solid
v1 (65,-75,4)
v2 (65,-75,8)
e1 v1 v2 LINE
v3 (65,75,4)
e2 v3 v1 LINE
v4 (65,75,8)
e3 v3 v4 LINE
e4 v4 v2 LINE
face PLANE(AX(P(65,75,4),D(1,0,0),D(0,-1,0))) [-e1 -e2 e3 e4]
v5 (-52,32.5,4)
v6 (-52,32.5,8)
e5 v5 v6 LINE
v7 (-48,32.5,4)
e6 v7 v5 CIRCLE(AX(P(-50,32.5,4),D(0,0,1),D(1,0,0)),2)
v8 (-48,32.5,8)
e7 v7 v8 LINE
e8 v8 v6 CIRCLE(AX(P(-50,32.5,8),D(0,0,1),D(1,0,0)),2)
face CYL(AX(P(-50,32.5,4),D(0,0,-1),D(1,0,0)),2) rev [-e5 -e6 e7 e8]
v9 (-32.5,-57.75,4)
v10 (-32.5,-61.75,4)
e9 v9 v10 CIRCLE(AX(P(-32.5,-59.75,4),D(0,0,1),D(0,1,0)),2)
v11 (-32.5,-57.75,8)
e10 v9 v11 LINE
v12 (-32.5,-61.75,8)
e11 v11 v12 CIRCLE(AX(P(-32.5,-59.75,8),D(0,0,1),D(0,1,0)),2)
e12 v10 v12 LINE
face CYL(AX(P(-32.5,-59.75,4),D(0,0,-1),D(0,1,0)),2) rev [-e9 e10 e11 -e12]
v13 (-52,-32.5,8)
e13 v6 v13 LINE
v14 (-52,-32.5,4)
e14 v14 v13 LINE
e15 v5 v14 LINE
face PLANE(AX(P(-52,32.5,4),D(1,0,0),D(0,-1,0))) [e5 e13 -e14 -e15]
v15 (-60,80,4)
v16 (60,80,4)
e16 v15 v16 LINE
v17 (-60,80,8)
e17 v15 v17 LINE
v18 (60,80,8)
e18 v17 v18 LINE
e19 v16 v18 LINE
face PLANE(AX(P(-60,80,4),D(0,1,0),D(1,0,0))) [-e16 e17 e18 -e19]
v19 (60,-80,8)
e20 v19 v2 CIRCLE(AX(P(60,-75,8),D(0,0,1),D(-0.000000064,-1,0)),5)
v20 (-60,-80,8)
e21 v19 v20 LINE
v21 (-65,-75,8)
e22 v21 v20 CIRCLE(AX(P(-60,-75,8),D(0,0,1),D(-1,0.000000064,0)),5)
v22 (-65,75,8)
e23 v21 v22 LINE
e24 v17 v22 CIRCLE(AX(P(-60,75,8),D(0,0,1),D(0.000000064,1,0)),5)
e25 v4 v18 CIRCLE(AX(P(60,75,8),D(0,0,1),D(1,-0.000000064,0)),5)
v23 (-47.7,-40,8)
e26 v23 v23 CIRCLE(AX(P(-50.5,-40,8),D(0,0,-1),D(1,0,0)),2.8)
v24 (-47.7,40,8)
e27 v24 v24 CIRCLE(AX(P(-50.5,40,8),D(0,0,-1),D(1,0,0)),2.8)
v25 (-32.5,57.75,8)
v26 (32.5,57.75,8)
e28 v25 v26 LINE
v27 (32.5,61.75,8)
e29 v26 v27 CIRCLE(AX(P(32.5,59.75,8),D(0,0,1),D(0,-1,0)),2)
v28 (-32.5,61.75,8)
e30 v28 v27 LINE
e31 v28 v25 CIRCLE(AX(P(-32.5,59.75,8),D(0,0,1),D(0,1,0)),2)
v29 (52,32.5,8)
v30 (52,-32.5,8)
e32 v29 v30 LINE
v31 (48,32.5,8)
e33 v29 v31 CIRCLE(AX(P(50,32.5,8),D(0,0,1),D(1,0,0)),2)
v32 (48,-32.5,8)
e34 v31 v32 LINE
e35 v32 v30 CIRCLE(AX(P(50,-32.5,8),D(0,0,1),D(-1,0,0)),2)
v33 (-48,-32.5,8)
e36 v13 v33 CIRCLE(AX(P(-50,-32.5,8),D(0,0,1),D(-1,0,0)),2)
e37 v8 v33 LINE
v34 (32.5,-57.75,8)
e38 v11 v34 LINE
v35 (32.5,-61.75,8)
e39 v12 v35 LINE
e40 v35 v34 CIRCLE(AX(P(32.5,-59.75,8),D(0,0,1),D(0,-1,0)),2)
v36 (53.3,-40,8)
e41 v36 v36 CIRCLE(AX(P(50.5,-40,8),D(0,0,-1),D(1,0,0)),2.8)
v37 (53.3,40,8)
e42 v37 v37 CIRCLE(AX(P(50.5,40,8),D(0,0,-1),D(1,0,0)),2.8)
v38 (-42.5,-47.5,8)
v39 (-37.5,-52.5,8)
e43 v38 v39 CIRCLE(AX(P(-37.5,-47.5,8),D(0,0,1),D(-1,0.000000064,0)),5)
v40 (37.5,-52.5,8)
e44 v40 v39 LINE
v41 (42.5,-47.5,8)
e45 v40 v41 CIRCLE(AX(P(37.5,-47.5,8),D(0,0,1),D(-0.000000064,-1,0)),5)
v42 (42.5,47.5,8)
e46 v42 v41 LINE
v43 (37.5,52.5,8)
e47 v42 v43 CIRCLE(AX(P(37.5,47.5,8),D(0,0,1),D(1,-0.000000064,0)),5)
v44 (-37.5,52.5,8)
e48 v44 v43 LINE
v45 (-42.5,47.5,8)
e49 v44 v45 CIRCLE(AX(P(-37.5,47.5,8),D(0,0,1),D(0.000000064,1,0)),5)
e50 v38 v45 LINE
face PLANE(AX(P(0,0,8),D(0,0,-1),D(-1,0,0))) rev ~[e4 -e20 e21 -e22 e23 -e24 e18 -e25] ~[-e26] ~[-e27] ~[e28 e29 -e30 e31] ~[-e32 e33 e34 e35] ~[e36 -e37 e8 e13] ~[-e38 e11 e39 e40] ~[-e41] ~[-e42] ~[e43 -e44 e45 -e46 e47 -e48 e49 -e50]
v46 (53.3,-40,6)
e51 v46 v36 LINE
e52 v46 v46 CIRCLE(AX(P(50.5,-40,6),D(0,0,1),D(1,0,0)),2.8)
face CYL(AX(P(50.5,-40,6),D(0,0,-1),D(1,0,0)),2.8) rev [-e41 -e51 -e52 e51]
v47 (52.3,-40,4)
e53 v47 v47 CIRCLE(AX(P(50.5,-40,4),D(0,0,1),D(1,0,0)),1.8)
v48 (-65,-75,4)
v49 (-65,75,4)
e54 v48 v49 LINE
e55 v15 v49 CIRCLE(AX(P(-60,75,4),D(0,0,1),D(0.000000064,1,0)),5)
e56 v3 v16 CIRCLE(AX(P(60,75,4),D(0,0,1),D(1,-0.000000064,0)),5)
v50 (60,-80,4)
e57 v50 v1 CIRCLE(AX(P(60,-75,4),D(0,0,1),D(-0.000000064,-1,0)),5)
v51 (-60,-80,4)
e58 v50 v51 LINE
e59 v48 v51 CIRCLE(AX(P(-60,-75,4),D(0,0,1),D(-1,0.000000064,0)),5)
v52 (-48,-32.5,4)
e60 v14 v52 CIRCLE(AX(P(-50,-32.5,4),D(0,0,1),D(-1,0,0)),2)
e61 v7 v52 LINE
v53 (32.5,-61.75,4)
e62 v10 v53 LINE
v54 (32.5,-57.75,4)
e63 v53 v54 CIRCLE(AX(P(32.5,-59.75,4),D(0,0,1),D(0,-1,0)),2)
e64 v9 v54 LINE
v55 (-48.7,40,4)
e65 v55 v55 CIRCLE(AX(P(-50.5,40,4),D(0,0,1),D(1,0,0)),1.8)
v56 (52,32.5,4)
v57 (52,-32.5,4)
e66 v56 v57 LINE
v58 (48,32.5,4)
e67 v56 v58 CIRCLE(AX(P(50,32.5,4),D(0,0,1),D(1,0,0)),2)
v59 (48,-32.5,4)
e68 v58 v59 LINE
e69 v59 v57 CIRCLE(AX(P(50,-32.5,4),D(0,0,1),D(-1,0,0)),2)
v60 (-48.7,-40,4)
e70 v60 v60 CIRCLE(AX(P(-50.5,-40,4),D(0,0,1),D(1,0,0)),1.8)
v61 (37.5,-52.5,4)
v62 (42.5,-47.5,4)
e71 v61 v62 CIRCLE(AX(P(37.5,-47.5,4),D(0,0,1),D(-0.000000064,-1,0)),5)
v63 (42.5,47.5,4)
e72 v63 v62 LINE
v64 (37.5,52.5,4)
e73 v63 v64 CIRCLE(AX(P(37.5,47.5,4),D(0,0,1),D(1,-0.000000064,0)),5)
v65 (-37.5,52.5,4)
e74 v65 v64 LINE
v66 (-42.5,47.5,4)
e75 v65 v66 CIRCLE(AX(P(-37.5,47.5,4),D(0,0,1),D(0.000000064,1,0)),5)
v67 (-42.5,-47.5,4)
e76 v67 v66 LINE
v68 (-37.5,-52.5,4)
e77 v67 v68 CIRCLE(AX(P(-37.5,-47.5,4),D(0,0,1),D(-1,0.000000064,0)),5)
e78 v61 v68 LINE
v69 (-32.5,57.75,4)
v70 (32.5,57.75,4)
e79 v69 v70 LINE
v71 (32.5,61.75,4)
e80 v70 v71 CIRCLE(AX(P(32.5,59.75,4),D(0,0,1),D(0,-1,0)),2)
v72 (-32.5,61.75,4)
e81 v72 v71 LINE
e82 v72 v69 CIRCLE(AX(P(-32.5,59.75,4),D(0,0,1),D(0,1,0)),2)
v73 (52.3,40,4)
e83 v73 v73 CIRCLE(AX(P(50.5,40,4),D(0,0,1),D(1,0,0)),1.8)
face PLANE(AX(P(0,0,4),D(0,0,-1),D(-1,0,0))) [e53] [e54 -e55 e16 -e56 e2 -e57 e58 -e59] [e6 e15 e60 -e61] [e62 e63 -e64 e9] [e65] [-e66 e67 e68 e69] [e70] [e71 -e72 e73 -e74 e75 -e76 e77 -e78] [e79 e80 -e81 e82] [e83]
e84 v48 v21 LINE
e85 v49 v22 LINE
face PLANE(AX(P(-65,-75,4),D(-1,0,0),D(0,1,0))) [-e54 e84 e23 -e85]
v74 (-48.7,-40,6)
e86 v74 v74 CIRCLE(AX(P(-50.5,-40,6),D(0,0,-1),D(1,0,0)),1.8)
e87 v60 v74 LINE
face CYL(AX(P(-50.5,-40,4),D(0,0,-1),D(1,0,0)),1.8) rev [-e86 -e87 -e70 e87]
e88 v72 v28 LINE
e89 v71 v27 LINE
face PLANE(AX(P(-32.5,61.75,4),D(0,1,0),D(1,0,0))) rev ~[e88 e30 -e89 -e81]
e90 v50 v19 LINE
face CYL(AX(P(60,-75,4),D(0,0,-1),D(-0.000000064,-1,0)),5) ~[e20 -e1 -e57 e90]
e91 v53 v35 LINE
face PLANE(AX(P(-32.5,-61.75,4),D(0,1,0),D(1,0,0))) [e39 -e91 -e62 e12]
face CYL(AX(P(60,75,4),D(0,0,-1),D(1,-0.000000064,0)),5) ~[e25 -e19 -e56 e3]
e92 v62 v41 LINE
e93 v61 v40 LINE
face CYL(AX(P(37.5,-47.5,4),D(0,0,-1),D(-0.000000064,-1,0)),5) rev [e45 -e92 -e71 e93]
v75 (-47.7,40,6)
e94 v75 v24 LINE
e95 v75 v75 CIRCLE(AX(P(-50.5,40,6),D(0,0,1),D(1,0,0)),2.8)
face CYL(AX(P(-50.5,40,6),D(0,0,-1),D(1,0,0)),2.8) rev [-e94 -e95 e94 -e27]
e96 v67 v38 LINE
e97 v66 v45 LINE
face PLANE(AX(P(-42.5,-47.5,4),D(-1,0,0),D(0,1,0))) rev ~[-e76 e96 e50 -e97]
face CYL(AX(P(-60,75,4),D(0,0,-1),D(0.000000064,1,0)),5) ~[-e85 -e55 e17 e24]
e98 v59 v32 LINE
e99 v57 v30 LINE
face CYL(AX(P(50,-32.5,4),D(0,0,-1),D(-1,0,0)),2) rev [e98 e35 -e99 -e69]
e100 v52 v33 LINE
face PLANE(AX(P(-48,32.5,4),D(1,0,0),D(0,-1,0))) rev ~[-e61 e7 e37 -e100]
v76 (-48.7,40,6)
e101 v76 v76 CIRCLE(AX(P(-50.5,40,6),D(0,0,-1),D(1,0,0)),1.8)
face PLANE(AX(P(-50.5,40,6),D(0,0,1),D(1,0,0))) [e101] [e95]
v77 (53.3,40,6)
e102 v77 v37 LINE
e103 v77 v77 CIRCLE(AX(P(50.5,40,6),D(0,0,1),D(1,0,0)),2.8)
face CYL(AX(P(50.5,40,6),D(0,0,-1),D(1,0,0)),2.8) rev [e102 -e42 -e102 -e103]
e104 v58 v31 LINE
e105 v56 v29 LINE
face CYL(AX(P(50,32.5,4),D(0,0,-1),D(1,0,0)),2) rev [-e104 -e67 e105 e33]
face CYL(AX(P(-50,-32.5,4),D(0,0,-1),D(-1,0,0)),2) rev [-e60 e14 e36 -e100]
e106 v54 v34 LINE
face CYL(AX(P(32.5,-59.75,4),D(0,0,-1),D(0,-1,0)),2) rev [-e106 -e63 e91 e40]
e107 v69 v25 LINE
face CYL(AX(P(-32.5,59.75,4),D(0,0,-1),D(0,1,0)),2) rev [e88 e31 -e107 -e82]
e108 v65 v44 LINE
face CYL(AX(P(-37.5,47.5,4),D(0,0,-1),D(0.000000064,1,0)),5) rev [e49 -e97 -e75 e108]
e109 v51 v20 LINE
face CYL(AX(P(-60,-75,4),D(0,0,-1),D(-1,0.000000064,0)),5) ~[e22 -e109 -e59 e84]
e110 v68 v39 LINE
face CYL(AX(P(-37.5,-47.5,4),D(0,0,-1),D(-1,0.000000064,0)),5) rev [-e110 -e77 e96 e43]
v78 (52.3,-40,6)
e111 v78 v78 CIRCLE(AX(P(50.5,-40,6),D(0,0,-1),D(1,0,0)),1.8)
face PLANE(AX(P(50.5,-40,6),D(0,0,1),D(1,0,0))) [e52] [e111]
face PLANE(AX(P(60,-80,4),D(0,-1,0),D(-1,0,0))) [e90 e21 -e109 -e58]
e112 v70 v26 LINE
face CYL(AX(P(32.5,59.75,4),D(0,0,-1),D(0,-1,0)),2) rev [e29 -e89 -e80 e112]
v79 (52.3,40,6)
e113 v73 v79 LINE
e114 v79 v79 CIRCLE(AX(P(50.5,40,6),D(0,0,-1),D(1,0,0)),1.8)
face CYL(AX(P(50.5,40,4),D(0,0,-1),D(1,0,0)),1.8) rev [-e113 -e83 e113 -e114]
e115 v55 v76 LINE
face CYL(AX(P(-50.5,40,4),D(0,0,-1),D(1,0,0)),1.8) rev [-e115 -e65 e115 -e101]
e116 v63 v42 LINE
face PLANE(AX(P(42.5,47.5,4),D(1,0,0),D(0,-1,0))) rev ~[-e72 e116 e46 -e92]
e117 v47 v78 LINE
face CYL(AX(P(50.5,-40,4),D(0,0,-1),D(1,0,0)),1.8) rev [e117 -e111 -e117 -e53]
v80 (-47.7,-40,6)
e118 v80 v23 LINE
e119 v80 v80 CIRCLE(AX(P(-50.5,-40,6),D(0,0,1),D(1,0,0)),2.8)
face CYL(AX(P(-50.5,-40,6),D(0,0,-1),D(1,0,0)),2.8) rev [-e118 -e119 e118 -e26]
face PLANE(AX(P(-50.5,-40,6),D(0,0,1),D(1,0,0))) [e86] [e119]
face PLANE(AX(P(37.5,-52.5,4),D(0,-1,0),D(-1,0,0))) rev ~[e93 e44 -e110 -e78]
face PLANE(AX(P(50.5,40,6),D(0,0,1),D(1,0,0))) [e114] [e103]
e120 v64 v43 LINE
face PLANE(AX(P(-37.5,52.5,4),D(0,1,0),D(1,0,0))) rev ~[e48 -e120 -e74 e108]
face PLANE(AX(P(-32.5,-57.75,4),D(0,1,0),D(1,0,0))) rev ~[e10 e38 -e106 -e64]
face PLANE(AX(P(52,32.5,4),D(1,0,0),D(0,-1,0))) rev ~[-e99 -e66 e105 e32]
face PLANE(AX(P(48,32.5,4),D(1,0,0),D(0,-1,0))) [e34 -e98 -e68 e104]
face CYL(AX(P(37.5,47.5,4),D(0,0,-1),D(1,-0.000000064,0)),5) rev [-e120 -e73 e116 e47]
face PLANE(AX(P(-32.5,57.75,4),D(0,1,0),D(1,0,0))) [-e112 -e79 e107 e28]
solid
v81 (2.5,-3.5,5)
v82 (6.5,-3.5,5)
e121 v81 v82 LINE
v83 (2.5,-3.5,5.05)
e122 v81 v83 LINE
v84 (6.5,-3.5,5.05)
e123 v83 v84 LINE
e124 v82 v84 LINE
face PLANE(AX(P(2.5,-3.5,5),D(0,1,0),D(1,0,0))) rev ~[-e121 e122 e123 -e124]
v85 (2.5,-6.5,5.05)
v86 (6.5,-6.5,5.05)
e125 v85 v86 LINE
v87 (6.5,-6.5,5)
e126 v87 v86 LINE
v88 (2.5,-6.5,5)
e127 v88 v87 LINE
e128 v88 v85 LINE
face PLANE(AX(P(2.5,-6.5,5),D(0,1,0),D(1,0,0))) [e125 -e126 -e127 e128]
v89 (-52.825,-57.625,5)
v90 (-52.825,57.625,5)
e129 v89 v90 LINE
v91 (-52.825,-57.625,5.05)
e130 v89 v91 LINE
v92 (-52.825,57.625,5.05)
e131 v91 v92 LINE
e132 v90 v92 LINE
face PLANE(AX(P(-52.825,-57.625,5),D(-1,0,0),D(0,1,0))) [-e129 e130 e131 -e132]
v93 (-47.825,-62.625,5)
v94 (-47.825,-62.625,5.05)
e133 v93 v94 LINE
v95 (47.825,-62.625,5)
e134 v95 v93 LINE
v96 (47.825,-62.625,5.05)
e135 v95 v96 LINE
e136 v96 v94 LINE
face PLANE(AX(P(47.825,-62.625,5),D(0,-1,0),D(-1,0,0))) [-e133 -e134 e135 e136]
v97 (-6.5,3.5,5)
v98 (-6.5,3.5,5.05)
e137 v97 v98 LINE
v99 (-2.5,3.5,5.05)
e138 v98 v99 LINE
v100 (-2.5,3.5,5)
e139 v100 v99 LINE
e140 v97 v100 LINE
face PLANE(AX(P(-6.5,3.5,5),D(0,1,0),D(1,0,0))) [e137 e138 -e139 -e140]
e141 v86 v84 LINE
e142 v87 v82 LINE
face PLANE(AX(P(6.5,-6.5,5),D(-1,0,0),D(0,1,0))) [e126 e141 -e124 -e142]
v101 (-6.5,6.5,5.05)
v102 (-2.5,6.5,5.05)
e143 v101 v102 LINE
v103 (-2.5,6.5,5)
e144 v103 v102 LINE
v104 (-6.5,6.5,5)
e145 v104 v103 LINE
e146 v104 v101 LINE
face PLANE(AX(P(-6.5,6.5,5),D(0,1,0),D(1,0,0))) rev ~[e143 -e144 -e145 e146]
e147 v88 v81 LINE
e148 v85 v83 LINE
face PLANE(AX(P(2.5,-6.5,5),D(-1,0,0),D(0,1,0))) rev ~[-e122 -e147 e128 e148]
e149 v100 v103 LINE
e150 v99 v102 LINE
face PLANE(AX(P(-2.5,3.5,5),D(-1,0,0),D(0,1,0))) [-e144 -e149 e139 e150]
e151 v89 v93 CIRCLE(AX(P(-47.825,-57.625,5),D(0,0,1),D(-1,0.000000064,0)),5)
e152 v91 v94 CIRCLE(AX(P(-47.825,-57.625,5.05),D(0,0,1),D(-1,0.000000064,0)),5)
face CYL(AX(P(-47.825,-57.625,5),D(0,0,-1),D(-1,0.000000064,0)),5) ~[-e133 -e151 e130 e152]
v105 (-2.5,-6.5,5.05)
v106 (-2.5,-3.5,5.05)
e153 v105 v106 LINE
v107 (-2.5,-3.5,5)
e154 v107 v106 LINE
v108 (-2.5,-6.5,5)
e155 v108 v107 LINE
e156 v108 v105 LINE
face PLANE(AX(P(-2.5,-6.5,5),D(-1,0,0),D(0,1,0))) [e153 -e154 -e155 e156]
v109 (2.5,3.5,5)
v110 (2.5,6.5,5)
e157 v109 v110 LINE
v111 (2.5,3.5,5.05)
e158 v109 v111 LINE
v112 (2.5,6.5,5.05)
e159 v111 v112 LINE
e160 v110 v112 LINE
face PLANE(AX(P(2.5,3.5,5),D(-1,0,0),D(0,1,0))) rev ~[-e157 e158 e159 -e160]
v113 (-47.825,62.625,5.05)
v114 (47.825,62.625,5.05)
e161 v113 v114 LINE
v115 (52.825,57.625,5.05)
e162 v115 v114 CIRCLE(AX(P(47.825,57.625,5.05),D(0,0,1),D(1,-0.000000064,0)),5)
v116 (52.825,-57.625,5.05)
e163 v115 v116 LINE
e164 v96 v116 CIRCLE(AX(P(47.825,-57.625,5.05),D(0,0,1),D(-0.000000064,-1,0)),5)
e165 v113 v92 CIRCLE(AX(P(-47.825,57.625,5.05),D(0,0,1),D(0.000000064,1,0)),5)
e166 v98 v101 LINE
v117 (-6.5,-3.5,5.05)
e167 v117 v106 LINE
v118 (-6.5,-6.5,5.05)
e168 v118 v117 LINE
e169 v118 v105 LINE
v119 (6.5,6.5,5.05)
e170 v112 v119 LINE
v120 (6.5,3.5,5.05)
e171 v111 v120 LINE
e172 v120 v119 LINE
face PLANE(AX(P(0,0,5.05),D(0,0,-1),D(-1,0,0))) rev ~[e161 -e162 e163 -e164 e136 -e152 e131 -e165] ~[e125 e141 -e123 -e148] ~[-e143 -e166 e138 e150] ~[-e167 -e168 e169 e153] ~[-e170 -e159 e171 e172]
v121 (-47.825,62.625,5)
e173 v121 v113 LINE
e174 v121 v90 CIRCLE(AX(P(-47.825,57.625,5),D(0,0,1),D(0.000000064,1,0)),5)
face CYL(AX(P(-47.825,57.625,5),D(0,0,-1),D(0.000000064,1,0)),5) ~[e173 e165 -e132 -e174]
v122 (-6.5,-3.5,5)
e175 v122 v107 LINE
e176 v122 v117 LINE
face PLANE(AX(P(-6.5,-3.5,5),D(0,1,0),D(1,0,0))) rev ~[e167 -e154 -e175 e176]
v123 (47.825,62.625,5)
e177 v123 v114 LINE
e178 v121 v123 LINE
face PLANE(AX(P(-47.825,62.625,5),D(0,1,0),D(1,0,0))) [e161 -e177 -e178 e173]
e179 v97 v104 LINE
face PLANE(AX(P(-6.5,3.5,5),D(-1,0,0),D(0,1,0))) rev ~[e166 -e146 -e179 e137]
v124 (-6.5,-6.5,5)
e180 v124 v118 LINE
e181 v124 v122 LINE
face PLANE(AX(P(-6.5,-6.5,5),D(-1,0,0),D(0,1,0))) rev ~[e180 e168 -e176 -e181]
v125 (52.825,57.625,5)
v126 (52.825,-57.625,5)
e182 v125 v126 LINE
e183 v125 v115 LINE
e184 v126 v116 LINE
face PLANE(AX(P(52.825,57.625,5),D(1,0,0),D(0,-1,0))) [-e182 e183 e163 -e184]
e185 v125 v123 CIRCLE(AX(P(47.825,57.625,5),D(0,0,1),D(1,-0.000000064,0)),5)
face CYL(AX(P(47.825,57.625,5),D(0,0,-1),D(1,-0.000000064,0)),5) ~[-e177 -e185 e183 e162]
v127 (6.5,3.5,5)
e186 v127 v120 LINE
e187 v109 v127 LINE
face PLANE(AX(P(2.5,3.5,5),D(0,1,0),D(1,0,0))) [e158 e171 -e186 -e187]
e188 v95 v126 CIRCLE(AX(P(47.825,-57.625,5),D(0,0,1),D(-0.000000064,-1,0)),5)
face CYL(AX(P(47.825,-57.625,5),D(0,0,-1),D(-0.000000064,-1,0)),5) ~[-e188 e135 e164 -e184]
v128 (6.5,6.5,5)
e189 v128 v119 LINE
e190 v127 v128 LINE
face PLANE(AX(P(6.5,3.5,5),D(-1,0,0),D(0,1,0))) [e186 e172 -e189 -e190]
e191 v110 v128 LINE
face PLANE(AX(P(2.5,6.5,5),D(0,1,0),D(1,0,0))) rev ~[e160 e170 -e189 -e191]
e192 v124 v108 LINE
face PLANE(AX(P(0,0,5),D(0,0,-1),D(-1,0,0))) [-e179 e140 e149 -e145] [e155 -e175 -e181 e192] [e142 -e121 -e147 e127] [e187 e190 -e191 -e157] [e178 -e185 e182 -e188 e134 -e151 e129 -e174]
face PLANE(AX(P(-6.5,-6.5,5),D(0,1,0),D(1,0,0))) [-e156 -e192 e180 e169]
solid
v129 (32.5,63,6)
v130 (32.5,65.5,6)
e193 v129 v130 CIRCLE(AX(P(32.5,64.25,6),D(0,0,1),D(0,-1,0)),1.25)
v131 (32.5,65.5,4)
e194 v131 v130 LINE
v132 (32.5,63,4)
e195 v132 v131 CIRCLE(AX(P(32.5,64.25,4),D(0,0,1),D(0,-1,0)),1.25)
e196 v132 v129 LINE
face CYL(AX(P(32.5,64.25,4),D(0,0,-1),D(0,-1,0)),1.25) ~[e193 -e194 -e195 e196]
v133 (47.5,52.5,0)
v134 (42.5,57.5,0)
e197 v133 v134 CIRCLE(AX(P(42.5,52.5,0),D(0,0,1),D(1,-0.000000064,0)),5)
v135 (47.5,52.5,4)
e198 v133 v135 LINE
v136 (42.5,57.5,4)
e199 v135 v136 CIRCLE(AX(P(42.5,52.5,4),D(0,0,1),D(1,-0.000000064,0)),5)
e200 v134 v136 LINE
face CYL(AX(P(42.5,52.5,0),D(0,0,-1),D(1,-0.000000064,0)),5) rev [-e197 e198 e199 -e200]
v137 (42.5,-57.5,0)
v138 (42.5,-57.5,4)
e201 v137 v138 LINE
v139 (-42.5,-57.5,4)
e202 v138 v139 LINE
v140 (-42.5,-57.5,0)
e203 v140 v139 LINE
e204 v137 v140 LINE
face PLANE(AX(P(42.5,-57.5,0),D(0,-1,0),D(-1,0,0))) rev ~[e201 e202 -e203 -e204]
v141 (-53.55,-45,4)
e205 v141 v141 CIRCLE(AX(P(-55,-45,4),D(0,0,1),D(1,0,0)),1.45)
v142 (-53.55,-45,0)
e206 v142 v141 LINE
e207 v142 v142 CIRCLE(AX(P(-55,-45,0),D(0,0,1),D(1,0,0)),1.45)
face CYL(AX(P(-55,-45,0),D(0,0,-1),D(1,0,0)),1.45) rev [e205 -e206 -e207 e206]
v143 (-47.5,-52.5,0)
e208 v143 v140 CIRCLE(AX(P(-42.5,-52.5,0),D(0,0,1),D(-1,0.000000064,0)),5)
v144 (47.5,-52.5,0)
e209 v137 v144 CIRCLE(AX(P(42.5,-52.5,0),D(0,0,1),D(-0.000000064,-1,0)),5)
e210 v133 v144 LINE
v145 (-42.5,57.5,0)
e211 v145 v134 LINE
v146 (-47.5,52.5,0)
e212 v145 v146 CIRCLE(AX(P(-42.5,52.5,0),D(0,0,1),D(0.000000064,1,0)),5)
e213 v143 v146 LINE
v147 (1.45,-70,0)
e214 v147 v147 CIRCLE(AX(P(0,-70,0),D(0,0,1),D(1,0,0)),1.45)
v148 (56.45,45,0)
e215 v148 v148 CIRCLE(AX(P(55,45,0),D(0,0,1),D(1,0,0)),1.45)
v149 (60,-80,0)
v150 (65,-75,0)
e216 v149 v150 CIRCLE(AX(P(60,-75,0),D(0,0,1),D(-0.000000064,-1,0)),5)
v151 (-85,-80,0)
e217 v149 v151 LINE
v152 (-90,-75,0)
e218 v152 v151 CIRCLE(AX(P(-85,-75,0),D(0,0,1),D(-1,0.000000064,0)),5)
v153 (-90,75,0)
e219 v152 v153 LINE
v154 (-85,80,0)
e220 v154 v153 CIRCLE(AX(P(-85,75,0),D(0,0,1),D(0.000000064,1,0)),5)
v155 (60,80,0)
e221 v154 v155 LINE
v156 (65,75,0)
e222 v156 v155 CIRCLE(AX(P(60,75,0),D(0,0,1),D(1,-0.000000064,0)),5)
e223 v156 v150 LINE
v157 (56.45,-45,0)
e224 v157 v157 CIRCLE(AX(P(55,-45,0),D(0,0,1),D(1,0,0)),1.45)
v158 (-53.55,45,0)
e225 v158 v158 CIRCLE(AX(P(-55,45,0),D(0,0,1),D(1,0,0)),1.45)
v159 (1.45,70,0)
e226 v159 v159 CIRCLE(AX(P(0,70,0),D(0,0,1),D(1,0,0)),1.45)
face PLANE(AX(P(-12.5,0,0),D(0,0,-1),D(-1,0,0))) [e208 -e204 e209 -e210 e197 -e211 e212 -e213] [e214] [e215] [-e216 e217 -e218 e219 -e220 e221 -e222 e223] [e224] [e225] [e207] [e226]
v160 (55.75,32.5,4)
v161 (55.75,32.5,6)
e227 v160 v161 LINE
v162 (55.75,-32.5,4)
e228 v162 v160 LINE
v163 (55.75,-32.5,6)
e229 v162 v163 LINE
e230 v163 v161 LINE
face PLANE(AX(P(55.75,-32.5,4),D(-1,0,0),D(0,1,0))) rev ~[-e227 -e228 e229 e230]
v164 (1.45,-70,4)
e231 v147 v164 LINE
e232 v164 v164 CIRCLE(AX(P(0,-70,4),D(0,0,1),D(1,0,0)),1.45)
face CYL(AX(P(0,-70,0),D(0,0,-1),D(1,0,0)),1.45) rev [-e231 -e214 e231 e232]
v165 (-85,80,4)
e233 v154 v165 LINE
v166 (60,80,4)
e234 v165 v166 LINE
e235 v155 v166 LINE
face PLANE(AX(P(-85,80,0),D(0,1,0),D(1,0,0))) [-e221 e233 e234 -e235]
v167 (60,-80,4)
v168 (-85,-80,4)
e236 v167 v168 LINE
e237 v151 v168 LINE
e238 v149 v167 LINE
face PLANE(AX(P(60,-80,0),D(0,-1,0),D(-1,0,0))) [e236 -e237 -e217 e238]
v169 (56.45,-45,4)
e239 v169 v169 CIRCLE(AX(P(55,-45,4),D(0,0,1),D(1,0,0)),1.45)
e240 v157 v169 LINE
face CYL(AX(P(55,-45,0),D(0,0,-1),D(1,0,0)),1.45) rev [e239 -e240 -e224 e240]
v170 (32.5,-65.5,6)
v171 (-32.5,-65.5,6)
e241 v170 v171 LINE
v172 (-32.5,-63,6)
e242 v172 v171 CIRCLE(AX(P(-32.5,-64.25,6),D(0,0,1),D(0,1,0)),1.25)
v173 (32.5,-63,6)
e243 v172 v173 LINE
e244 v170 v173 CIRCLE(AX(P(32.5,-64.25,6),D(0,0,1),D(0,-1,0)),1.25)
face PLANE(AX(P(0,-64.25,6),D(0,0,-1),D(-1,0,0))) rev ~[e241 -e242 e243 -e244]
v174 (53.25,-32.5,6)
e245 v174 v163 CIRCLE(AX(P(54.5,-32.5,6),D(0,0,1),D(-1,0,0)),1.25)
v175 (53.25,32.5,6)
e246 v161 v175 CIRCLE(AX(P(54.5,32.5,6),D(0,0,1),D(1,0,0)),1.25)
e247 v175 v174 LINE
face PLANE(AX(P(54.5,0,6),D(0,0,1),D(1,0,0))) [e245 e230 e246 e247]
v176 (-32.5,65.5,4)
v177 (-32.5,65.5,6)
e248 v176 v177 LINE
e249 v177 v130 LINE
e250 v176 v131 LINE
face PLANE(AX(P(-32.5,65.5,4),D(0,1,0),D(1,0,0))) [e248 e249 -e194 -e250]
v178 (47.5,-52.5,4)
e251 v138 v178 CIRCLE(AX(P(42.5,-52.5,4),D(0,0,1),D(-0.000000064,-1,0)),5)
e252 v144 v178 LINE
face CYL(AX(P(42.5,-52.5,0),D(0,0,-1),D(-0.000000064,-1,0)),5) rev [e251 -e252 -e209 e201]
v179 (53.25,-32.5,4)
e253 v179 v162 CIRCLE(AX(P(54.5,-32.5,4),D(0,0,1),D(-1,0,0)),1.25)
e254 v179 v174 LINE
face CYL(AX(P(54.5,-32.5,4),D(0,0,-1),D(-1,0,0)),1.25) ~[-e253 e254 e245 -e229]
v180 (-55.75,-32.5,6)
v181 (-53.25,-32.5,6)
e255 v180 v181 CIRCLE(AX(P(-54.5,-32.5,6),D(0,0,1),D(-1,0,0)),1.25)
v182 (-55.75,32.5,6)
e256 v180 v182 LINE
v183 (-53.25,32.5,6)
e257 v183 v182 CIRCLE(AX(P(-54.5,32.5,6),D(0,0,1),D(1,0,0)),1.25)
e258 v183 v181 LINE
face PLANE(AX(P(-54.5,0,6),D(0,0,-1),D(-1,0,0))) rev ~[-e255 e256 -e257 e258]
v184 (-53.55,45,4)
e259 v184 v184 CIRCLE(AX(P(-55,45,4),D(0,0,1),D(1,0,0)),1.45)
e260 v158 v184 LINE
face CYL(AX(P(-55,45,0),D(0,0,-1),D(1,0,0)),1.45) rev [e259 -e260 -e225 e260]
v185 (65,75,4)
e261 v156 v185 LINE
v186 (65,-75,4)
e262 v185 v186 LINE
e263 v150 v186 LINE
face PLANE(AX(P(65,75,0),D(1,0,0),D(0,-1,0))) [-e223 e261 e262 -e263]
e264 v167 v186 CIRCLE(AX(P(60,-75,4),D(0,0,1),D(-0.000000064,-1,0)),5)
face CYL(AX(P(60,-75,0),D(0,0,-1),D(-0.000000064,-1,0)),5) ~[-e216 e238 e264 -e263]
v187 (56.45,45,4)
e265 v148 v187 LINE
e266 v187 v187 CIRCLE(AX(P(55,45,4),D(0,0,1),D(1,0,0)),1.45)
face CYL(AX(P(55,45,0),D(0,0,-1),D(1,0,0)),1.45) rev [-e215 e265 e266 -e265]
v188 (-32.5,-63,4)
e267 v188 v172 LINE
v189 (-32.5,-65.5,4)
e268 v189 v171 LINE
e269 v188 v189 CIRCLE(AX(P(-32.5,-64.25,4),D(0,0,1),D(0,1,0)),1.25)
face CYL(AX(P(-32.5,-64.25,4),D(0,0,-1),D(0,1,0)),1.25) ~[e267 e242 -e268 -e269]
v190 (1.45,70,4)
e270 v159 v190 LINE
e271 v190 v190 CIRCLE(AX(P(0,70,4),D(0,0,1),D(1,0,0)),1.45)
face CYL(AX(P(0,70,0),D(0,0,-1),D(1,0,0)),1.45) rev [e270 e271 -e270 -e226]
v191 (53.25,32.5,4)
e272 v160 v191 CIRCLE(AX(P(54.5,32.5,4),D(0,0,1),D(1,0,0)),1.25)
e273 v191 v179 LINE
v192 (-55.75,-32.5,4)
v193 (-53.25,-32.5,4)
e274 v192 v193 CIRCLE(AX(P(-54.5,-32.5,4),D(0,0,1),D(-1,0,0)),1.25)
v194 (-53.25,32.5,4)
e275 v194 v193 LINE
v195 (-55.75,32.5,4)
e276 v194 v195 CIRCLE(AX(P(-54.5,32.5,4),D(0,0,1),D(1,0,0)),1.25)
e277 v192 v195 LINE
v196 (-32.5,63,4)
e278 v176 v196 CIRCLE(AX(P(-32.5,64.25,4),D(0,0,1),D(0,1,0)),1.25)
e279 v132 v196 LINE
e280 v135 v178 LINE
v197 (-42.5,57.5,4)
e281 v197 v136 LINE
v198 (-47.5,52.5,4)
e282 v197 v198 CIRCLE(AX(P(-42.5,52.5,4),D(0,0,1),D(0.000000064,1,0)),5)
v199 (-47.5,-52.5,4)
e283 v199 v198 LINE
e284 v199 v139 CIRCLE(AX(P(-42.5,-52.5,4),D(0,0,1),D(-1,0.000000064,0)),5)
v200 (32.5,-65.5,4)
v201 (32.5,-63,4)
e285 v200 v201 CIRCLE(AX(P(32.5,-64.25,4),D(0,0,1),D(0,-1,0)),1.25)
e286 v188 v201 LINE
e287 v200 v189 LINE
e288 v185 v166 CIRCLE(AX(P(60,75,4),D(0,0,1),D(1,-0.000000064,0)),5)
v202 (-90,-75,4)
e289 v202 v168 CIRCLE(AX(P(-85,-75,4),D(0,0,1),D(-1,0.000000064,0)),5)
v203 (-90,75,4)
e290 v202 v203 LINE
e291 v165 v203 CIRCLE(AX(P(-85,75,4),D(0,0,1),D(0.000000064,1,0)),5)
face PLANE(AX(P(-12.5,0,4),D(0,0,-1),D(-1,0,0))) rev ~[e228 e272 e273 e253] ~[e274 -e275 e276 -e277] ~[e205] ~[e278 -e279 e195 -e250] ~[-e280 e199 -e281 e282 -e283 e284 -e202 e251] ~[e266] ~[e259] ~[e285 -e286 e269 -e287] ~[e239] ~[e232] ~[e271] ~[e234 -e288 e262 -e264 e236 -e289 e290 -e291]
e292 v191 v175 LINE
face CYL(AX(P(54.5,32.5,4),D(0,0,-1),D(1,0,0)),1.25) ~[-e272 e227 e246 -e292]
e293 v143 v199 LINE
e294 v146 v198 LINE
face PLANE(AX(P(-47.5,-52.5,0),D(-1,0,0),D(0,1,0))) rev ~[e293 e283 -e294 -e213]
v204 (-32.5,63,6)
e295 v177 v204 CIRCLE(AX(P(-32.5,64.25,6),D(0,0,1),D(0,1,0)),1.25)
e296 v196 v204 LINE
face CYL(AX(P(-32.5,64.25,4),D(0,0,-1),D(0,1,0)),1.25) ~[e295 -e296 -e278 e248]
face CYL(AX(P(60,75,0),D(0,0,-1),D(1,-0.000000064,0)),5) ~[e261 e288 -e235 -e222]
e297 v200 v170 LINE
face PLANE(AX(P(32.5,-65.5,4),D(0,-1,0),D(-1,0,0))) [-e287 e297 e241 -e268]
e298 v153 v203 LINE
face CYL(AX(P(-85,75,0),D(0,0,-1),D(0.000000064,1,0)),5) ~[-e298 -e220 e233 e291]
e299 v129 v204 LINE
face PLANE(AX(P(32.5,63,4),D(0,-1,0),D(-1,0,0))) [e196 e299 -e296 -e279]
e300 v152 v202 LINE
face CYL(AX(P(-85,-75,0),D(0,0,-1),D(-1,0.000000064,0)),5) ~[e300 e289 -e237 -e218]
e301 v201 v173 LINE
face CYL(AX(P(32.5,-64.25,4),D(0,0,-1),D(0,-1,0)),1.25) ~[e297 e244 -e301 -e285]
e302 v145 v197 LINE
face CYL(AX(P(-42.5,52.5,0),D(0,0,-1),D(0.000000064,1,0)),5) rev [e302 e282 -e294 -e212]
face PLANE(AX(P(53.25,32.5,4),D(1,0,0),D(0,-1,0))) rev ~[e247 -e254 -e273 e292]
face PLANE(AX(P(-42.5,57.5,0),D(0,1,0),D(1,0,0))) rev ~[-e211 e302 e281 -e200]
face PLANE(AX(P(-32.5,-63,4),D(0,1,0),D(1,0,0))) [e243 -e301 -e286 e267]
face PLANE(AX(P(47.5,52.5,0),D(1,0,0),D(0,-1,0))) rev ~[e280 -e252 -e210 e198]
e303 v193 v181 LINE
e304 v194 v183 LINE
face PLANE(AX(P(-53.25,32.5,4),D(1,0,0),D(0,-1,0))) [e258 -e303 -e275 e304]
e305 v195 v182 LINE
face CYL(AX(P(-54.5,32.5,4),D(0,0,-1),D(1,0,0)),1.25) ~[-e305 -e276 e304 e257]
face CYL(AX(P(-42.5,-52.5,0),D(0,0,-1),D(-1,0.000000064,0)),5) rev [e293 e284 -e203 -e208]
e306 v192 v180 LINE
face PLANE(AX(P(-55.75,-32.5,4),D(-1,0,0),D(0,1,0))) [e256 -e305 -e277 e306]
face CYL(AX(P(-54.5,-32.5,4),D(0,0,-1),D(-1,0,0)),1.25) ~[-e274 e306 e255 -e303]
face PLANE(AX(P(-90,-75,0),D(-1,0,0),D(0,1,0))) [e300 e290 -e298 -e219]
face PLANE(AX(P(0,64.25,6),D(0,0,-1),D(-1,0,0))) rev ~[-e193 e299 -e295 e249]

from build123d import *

# Parameters (mm, degrees)
SKETCH_W         = 4
SKETCH_H         = 3
EXTRUDE_DEPTH    = 0.05
EXTRUDE005_DEPTH = 2
SKETCH001_R      = 1.45
EXTRUDE001_DEPTH = 4
SKETCH004_R      = 2.8
EXTRUDE004_DEPTH = 3
SKETCH003_R      = 1.8
EXTRUDE003_DEPTH = 4


with BuildPart() as extrude_body:
    # Sketch → Extrude (new body)
    with BuildSketch(Plane.XY):
        with BuildLine():
            Line((-47.825, 62.625), (47.825, 62.625))
            ThreePointArc((52.825, 57.625), (51.360534, 61.160534), (47.825, 62.625))
            Line((52.825, 57.625), (52.825, -57.625))
            ThreePointArc((47.825, -62.625), (51.360534, -61.160534), (52.825, -57.625))
            Line((47.825, -62.625), (-47.825, -62.625))
            ThreePointArc((-52.825, -57.625), (-51.360534, -61.160534), (-47.825, -62.625))
            Line((-52.825, -57.625), (-52.825, 57.625))
            ThreePointArc((-47.825, 62.625), (-51.360534, 61.160534), (-52.825, 57.625))
        make_face()
        with Locations((-4.5, 5)):
            Rectangle(SKETCH_W, SKETCH_H, mode=Mode.SUBTRACT)
        with Locations((4.5, 5)):
            Rectangle(SKETCH_W, SKETCH_H, mode=Mode.SUBTRACT)
        with Locations((-4.5, -5)):
            Rectangle(SKETCH_W, SKETCH_H, mode=Mode.SUBTRACT)
        with Locations((4.5, -5)):
            Rectangle(SKETCH_W, SKETCH_H, mode=Mode.SUBTRACT)
    extrude(amount=EXTRUDE_DEPTH)


with BuildPart() as extrude_body_1:
    # Extrude placement: moved
    add(extrude_body.part.moved(Location((0, 0, 5))))


with BuildPart() as extrude005:
    # Sketch002 → Extrude005 (new body)
    with BuildSketch(Plane.XY):
        with BuildLine():
            Line((53.25, 32.5), (53.25, -32.5))
            ThreePointArc((53.25, -32.5), (54.5, -33.75), (55.75, -32.5))
            Line((55.75, -32.5), (55.75, 32.5))
            ThreePointArc((55.75, 32.5), (54.5, 33.75), (53.25, 32.5))
        make_face()
        with BuildLine():
            Line((-53.25, 32.5), (-53.25, -32.5))
            ThreePointArc((-55.75, -32.5), (-54.5, -33.75), (-53.25, -32.5))
            Line((-55.75, -32.5), (-55.75, 32.5))
            ThreePointArc((-53.25, 32.5), (-54.5, 33.75), (-55.75, 32.5))
        make_face()
        with BuildLine():
            Line((-32.5, 65.5), (32.5, 65.5))
            ThreePointArc((32.5, 63), (33.75, 64.25), (32.5, 65.5))
            Line((32.5, 63), (-32.5, 63))
            ThreePointArc((-32.5, 65.5), (-33.75, 64.25), (-32.5, 63))
        make_face()
        with BuildLine():
            Line((-32.5, -63), (32.5, -63))
            ThreePointArc((32.5, -65.5), (33.75, -64.25), (32.5, -63))
            Line((32.5, -65.5), (-32.5, -65.5))
            ThreePointArc((-32.5, -63), (-33.75, -64.25), (-32.5, -65.5))
        make_face()
    extrude(amount=EXTRUDE005_DEPTH)


with BuildPart() as extrude005_1:
    # Extrude005 placement: moved
    add(extrude005.part.moved(Location((0, 0, 4))))


with BuildPart() as fusion:
    # Sketch001 → Extrude001 (new body)
    with BuildSketch(Plane.XY):
        with BuildLine():
            Line((-85, 80), (60, 80))
            ThreePointArc((65, 75), (63.535534, 78.535534), (60, 80))
            Line((65, 75), (65, -75))
            ThreePointArc((60, -80), (63.535534, -78.535534), (65, -75))
            Line((60, -80), (-85, -80))
            ThreePointArc((-90, -75), (-88.535534, -78.535534), (-85, -80))
            Line((-90, -75), (-90, 75))
            ThreePointArc((-85, 80), (-88.535534, 78.535534), (-90, 75))
        make_face()
        with Locations((-55, 45)):
            Circle(SKETCH001_R, mode=Mode.SUBTRACT)
        with Locations((55, -45)):
            Circle(SKETCH001_R, mode=Mode.SUBTRACT)
        with Locations((-55, -45)):
            Circle(SKETCH001_R, mode=Mode.SUBTRACT)
        with Locations((55, 45)):
            Circle(SKETCH001_R, mode=Mode.SUBTRACT)
        with Locations((0, 70)):
            Circle(SKETCH001_R, mode=Mode.SUBTRACT)
        with Locations((0, -70)):
            Circle(SKETCH001_R, mode=Mode.SUBTRACT)
        with BuildLine():
            Line((-42.5, 57.5), (42.5, 57.5))
            ThreePointArc((47.5, 52.5), (46.035534, 56.035534), (42.5, 57.5))
            Line((47.5, 52.5), (47.5, -52.5))
            ThreePointArc((42.5, -57.5), (46.035534, -56.035534), (47.5, -52.5))
            Line((42.5, -57.5), (-42.5, -57.5))
            ThreePointArc((-47.5, -52.5), (-46.035534, -56.035534), (-42.5, -57.5))
            Line((-47.5, -52.5), (-47.5, 52.5))
            ThreePointArc((-42.5, 57.5), (-46.035534, 56.035534), (-47.5, 52.5))
        make_face(mode=Mode.SUBTRACT)
    extrude(amount=EXTRUDE001_DEPTH)

    # Fusion: union Extrude005
    add(extrude005_1.part)


with BuildPart() as extrude004:
    # Sketch004 → Extrude004 (new body)
    with BuildSketch(Plane.XY):
        with Locations((-50.5, 40)):
            Circle(SKETCH004_R)
        with Locations((50.5, -40)):
            Circle(SKETCH004_R)
        with Locations((-50.5, -40)):
            Circle(SKETCH004_R)
        with Locations((50.5, 40)):
            Circle(SKETCH004_R)
    extrude(amount=EXTRUDE004_DEPTH)


with BuildPart() as extrude004_1:
    # Extrude004 placement: moved
    add(extrude004.part.moved(Location((0, 0, 6))))


with BuildPart() as cut:
    # Sketch003 → Extrude003 (new body)
    with BuildSketch(Plane.XY):
        with BuildLine():
            Line((-60, 80), (60, 80))
            ThreePointArc((65, 75), (63.535534, 78.535534), (60, 80))
            Line((65, 75), (65, -75))
            ThreePointArc((60, -80), (63.535534, -78.535534), (65, -75))
            Line((60, -80), (-60, -80))
            ThreePointArc((-65, -75), (-63.535534, -78.535534), (-60, -80))
            Line((-65, -75), (-65, 75))
            ThreePointArc((-60, 80), (-63.535534, 78.535534), (-65, 75))
        make_face()
        with Locations((-50.5, 40)):
            Circle(SKETCH003_R, mode=Mode.SUBTRACT)
        with Locations((50.5, -40)):
            Circle(SKETCH003_R, mode=Mode.SUBTRACT)
        with Locations((-50.5, -40)):
            Circle(SKETCH003_R, mode=Mode.SUBTRACT)
        with Locations((50.5, 40)):
            Circle(SKETCH003_R, mode=Mode.SUBTRACT)
        with BuildLine():
            Line((-37.5, 52.5), (37.5, 52.5))
            ThreePointArc((42.5, 47.5), (41.035534, 51.035534), (37.5, 52.5))
            Line((42.5, 47.5), (42.5, -47.5))
            ThreePointArc((37.5, -52.5), (41.035534, -51.035534), (42.5, -47.5))
            Line((37.5, -52.5), (-37.5, -52.5))
            ThreePointArc((-42.5, -47.5), (-41.035534, -51.035534), (-37.5, -52.5))
            Line((-42.5, -47.5), (-42.5, 47.5))
            ThreePointArc((-37.5, 52.5), (-41.035534, 51.035534), (-42.5, 47.5))
        make_face(mode=Mode.SUBTRACT)
        with BuildLine():
            ThreePointArc((-48, 32.5), (-50, 34.5), (-52, 32.5))
            Line((-52, 32.5), (-52, -32.5))
            ThreePointArc((-52, -32.5), (-50, -34.5), (-48, -32.5))
            Line((-48, 32.5), (-48, -32.5))
        make_face(mode=Mode.SUBTRACT)
        with BuildLine():
            ThreePointArc((-32.5, -57.75), (-34.5, -59.75), (-32.5, -61.75))
            Line((-32.5, -61.75), (32.5, -61.75))
            ThreePointArc((32.5, -61.75), (34.5, -59.75), (32.5, -57.75))
            Line((-32.5, -57.75), (32.5, -57.75))
        make_face(mode=Mode.SUBTRACT)
        with BuildLine():
            ThreePointArc((52, 32.5), (50, 34.5), (48, 32.5))
            Line((48, 32.5), (48, -32.5))
            ThreePointArc((48, -32.5), (50, -34.5), (52, -32.5))
            Line((52, 32.5), (52, -32.5))
        make_face(mode=Mode.SUBTRACT)
        with BuildLine():
            ThreePointArc((-32.5, 61.75), (-34.5, 59.75), (-32.5, 57.75))
            Line((-32.5, 57.75), (32.5, 57.75))
            ThreePointArc((32.5, 57.75), (34.5, 59.75), (32.5, 61.75))
            Line((-32.5, 61.75), (32.5, 61.75))
        make_face(mode=Mode.SUBTRACT)
    extrude(amount=EXTRUDE003_DEPTH)


with BuildPart() as cut_1:
    # Extrude003 placement: moved
    add(cut.part.moved(Location((0, 0, 4))))

    # Cut: cut Extrude004
    add(extrude004_1.part, mode=Mode.SUBTRACT)


solid = Compound([extrude_body_1.part, fusion.part, cut_1.part])
